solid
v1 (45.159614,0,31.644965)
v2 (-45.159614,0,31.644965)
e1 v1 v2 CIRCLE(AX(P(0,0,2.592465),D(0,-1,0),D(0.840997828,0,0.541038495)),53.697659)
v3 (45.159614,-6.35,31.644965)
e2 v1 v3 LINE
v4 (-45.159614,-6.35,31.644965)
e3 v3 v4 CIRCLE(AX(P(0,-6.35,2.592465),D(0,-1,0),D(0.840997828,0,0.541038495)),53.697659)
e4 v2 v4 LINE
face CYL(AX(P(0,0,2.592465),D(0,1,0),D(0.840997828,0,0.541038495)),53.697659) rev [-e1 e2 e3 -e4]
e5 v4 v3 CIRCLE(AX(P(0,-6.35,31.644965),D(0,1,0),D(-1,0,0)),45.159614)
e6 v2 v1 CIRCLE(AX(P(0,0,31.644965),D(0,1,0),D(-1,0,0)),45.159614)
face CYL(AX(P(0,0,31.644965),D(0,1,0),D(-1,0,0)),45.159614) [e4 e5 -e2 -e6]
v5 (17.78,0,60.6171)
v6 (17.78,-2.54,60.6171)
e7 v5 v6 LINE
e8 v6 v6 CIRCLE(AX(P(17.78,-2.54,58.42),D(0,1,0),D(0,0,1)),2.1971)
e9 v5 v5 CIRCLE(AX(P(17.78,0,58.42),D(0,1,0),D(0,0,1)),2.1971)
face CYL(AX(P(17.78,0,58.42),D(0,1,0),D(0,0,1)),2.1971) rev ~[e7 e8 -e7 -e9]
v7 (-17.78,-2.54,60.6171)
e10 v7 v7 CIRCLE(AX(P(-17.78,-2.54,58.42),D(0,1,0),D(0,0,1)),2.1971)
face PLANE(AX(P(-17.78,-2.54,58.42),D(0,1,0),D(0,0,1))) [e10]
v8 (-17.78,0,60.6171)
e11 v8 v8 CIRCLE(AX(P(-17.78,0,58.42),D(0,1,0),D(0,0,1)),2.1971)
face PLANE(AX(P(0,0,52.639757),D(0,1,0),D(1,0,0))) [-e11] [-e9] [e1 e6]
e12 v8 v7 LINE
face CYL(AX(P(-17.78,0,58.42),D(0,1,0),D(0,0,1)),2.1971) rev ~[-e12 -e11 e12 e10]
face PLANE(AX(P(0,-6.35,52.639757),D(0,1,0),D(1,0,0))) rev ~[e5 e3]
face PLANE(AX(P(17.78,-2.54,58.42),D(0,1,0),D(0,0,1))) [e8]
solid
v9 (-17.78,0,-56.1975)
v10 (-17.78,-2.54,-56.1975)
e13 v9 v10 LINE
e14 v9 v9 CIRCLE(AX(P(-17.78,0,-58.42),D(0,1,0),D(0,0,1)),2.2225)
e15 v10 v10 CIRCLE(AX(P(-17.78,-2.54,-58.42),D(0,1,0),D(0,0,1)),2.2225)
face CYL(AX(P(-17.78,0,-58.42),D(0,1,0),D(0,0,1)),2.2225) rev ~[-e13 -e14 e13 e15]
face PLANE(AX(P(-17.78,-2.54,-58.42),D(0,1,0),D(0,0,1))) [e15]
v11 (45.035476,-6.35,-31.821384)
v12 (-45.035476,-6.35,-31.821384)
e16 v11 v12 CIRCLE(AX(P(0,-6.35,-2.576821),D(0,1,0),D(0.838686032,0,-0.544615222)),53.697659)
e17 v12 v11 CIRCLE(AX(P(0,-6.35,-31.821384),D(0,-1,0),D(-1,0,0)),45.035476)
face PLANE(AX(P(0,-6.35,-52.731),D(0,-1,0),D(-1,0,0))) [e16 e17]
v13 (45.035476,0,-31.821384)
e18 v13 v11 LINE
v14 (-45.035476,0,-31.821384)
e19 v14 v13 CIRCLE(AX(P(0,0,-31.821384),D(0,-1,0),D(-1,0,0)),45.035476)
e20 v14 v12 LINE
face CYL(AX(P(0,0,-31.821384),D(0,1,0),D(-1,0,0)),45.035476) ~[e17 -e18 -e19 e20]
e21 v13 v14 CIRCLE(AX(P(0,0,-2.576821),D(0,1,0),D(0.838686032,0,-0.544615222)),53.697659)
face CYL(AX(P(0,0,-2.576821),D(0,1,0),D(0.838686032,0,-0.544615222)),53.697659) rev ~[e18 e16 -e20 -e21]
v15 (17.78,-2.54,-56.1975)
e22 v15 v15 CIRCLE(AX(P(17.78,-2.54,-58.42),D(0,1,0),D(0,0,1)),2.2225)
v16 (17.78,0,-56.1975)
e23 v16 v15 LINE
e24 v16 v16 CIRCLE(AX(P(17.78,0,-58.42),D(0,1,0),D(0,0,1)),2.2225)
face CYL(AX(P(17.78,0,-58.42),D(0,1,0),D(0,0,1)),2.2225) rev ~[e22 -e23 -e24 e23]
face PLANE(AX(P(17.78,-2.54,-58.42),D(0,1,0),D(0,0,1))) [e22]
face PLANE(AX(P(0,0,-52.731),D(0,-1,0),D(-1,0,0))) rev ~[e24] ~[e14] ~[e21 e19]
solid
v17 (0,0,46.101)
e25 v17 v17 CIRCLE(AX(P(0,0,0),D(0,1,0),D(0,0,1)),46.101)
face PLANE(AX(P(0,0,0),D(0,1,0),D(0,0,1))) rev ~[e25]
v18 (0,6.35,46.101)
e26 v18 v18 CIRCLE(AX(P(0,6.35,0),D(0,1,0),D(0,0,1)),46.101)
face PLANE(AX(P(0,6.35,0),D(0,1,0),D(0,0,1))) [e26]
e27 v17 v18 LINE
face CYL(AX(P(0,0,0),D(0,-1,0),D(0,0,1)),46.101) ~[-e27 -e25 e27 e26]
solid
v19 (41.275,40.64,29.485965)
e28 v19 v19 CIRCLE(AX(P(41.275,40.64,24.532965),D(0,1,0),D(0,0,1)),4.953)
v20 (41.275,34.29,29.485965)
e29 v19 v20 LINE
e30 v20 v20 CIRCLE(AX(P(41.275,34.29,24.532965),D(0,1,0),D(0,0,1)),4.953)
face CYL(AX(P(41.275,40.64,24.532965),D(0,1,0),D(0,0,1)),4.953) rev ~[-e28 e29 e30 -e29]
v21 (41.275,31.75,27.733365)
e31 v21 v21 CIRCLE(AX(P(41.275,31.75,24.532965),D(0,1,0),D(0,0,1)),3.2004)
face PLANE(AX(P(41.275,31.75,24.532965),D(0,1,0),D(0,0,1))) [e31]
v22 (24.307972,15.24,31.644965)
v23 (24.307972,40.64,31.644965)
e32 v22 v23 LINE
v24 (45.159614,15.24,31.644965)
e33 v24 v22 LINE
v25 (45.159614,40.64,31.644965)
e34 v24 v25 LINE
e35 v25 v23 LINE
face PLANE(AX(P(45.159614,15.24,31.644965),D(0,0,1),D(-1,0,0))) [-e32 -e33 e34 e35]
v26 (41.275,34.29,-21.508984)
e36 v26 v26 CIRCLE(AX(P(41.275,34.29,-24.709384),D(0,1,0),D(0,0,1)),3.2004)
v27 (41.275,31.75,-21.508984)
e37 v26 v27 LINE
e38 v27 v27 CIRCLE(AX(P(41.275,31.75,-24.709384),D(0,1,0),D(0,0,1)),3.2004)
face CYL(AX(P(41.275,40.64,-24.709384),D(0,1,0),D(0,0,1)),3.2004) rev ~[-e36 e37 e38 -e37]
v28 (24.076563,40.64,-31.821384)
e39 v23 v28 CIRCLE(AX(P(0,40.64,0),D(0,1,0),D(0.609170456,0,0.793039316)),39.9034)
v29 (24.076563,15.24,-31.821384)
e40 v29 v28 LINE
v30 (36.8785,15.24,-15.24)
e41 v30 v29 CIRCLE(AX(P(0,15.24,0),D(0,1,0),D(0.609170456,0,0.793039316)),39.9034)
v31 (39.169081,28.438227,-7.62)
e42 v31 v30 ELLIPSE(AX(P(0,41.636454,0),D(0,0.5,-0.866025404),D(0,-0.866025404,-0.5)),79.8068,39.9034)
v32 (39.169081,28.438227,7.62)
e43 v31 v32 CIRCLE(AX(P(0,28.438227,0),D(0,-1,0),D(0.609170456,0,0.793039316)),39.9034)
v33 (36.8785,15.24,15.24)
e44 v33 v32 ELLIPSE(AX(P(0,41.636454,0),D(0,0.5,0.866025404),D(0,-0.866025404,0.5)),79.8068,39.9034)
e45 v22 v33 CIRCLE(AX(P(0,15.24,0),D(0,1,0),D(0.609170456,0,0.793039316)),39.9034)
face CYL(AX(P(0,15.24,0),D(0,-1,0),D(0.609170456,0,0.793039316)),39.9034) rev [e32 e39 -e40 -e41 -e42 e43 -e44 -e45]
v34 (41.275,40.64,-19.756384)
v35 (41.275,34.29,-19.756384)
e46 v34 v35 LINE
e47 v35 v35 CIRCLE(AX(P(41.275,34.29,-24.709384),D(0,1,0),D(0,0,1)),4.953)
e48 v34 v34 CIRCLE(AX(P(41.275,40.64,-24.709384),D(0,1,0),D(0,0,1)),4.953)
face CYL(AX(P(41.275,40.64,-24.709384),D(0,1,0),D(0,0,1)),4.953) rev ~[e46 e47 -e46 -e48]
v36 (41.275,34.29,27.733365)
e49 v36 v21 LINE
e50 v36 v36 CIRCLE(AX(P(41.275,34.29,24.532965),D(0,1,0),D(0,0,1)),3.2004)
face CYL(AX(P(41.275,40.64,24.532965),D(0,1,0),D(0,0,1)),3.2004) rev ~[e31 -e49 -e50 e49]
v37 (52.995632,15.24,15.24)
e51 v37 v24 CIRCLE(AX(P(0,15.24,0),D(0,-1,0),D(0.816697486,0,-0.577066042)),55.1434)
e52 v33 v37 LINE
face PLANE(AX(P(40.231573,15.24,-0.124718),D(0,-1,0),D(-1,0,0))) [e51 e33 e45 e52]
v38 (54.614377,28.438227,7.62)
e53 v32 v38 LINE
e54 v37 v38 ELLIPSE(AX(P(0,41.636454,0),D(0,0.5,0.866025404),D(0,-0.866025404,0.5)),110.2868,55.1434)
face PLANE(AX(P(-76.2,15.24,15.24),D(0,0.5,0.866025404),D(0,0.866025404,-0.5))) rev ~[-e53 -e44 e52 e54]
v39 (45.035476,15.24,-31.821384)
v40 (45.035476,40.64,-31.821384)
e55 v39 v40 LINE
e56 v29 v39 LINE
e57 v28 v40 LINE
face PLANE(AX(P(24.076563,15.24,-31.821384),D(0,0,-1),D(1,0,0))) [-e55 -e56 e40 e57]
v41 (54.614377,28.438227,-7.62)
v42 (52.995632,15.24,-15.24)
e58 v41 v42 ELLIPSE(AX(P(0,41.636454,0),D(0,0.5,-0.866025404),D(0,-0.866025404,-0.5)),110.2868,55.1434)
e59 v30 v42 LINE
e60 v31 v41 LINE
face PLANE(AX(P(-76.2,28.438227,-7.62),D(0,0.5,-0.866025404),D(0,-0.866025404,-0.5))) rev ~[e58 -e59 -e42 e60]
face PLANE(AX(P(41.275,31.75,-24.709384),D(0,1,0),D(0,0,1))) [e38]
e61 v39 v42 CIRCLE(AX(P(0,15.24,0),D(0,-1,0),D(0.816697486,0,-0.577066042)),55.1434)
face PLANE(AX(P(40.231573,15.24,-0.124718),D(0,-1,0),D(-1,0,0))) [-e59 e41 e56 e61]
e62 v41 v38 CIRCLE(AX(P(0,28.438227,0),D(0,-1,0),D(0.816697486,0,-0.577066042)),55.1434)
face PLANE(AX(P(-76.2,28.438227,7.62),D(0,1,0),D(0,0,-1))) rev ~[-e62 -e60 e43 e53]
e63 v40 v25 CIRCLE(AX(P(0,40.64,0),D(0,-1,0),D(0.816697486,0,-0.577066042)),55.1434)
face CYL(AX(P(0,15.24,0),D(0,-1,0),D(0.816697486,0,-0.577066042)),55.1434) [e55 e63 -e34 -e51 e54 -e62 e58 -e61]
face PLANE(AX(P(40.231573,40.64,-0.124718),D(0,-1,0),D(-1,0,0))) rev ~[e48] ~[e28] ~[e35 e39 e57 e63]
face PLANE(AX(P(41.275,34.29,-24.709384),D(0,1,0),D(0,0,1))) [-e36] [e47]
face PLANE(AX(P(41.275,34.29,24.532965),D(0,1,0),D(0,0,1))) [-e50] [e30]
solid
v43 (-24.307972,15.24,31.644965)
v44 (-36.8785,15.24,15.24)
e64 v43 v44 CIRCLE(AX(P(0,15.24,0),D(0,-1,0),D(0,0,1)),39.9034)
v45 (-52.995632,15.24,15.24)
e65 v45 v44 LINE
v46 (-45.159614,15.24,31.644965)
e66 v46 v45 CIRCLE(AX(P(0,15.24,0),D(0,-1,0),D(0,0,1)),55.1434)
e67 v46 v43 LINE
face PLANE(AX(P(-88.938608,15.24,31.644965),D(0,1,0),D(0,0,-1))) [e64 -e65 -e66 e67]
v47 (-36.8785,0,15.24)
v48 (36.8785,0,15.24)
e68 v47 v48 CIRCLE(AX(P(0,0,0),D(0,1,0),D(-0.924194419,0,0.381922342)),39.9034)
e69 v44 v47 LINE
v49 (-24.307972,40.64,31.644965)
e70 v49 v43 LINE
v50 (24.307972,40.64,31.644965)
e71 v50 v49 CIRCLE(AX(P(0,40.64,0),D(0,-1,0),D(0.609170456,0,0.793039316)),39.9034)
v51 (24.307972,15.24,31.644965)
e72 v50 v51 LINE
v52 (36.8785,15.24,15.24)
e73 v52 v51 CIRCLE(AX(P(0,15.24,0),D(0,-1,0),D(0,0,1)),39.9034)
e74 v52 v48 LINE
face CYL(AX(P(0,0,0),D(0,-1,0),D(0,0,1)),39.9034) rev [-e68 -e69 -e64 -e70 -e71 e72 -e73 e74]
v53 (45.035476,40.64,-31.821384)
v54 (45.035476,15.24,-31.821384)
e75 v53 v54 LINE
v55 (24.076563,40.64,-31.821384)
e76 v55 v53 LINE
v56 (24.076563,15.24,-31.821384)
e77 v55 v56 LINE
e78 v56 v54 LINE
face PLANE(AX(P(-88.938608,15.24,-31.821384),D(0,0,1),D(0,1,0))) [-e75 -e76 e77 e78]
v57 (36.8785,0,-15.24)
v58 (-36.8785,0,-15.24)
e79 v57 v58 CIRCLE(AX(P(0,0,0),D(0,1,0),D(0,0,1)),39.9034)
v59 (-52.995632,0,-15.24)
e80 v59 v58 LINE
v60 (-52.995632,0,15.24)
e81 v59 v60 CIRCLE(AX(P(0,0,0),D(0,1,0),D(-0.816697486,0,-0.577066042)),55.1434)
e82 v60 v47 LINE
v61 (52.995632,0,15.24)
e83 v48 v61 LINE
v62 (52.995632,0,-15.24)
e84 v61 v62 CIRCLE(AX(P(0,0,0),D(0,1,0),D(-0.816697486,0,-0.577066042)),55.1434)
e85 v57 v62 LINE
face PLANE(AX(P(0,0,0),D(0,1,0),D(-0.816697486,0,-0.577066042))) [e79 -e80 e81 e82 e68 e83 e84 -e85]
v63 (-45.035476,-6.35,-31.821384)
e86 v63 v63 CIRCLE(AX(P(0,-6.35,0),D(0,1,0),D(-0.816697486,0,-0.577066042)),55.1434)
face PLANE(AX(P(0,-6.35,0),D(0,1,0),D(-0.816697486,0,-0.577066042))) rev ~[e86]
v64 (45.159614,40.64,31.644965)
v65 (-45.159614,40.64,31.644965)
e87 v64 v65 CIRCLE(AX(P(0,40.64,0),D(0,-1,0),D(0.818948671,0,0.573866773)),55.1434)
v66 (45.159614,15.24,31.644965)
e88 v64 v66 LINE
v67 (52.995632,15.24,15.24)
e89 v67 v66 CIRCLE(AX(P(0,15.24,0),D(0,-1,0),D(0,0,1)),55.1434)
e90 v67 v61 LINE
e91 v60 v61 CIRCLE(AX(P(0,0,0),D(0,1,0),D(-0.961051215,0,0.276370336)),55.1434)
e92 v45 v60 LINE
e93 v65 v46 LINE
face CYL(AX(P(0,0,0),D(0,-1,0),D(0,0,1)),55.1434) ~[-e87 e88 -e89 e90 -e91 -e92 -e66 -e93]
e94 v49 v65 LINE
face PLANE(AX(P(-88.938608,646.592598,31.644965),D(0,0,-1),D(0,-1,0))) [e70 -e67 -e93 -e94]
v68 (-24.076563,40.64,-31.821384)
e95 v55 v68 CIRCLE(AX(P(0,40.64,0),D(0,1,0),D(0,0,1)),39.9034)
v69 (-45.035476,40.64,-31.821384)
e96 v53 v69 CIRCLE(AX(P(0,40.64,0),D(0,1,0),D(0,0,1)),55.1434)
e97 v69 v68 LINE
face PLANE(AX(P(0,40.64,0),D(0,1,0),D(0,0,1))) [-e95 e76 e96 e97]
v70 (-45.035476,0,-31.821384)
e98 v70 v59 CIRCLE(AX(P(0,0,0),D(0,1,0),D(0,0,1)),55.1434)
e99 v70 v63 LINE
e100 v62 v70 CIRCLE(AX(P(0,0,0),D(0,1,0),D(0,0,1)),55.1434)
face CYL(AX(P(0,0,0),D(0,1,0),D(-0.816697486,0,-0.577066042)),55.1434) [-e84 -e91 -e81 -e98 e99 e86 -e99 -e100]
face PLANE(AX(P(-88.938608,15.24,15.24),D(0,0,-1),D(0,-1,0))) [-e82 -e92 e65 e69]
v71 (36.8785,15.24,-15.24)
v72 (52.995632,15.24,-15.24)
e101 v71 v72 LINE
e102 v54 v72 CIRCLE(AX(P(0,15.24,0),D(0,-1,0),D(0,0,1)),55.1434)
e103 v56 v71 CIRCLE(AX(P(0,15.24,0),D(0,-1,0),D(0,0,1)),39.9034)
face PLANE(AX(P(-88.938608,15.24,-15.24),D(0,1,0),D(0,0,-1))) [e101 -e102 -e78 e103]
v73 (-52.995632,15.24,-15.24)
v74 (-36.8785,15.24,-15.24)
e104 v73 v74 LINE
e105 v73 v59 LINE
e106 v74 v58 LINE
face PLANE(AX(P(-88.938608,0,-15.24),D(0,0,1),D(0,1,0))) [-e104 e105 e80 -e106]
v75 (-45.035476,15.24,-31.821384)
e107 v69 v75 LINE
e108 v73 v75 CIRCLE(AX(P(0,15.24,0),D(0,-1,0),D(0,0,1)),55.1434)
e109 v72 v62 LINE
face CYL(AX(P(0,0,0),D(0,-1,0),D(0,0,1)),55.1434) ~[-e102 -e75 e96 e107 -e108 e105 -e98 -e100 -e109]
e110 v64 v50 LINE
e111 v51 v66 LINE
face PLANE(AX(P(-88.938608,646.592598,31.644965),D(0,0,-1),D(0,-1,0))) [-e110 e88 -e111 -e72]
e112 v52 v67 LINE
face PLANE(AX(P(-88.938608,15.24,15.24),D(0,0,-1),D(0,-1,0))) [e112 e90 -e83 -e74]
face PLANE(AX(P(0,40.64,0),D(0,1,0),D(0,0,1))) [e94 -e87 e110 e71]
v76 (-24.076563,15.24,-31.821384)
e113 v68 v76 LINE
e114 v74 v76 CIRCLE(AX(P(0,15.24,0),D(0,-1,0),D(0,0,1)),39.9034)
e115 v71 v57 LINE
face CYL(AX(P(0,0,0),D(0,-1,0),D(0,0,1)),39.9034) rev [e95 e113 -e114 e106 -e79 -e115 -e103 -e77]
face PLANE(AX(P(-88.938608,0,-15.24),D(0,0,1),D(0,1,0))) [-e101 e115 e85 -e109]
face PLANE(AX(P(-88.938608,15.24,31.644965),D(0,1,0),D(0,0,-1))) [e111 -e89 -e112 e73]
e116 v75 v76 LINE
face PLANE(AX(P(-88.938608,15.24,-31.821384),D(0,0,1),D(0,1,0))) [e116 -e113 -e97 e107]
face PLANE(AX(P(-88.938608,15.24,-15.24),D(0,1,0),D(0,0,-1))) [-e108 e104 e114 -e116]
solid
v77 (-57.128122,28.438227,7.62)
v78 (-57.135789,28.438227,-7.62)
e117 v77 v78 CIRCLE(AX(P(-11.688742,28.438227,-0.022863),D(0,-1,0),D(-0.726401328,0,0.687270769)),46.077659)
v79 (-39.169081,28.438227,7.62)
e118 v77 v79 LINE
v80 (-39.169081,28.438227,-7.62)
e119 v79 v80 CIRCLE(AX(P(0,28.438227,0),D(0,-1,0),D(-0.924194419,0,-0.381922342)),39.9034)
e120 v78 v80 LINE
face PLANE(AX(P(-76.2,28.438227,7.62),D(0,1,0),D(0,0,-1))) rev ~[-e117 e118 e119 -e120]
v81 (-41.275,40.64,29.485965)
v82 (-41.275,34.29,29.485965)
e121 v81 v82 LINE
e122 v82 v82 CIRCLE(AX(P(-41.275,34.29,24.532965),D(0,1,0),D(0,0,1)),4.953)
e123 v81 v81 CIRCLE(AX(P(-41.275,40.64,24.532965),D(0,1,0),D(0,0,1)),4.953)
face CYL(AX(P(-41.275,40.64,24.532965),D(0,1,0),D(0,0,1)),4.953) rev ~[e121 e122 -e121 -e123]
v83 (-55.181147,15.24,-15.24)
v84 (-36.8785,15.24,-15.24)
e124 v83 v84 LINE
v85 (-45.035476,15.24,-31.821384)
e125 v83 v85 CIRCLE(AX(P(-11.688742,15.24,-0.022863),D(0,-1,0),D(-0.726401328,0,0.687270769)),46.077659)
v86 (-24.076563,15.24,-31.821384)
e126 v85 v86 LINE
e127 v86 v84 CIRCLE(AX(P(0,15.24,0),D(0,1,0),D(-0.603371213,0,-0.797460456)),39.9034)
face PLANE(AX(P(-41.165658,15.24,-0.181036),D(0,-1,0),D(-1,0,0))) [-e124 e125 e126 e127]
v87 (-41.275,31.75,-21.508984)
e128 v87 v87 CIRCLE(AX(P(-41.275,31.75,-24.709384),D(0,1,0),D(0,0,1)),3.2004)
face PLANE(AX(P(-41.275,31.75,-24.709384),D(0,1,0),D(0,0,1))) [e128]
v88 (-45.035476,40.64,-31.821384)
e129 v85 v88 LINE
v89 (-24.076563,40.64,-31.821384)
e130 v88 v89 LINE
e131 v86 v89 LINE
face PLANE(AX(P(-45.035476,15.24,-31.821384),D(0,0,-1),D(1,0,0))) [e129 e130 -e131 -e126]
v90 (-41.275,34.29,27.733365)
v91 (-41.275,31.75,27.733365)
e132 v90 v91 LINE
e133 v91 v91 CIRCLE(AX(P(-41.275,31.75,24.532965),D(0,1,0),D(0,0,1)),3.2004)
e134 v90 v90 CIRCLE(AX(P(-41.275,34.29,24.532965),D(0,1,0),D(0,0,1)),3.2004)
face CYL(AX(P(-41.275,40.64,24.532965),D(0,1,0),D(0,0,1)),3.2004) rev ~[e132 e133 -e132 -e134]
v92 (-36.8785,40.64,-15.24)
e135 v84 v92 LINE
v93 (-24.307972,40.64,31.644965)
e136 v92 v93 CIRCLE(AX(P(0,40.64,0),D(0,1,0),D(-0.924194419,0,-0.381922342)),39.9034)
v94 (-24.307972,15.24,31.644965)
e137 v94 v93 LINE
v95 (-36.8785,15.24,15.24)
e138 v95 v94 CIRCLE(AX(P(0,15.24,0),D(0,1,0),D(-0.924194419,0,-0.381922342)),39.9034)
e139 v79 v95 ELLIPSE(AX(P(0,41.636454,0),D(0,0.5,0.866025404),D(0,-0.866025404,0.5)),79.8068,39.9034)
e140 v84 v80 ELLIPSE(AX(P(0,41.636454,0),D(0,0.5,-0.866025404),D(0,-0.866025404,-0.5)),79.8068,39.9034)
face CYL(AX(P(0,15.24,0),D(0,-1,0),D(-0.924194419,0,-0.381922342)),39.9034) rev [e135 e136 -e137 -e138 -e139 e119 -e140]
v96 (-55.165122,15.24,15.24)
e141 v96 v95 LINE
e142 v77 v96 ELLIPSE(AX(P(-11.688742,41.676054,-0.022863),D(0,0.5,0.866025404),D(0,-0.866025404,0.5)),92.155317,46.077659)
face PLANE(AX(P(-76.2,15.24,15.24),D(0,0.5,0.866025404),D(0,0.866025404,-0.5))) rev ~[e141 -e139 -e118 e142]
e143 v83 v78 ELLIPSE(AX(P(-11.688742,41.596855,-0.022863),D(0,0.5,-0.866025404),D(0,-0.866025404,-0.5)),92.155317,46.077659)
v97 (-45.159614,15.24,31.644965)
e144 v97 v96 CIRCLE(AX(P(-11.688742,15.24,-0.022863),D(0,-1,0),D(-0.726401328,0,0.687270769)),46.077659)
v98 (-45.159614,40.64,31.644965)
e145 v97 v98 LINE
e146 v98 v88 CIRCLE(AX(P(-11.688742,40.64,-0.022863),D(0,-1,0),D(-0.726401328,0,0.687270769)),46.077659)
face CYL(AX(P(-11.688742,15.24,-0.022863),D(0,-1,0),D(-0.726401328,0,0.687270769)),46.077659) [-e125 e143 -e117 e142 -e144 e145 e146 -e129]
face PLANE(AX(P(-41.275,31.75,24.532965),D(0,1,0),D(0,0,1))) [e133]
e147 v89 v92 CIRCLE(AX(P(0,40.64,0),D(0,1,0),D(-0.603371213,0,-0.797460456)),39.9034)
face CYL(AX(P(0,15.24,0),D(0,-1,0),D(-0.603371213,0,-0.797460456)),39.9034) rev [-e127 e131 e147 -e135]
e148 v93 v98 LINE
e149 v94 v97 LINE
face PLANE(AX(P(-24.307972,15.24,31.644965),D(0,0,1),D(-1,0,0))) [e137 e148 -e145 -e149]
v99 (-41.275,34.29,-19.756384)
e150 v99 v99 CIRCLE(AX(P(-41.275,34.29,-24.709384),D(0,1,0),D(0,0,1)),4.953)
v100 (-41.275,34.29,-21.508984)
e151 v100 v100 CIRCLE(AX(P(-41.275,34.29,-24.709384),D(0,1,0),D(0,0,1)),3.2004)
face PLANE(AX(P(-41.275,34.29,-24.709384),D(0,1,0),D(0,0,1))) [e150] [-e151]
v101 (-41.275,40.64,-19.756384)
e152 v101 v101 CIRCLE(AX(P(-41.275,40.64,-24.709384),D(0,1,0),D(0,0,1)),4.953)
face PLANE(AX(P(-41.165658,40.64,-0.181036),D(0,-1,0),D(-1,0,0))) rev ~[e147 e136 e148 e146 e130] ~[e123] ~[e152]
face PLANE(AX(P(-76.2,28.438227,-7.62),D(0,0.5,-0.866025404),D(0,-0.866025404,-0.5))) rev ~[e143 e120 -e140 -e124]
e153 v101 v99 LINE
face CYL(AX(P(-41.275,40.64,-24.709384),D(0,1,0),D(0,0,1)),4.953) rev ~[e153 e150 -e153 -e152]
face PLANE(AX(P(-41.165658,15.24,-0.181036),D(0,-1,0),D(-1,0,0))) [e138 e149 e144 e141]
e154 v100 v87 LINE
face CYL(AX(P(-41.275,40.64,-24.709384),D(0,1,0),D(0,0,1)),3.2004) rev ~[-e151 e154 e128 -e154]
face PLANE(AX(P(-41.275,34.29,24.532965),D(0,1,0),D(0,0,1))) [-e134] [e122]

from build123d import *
from build123d.topology import SkipClean

# Parameters (mm, degrees)
SKETCH1_R               = 55.1434
SKETCH1_R_2             = 39.9034
BOSS_EXTRUDE1_DEPTH     = 40.64
CUT_EXTRUDE2_DEPTH      = 88.938607717
CUT_EXTRUDE2_DEPTH_BACK = 88.938607717
SKETCH7_R               = 46.101
BOSS_EXTRUDE2_DEPTH     = 6.35
BOSS_EXTRUDE4_DEPTH     = 25.4
BOSS_EXTRUDE6_DEPTH     = 25.4
CUT_EXTRUDE3_DEPTH      = 76.2
CUT_EXTRUDE3_DEPTH_BACK = 76.2
BOSS_EXTRUDE9_DEPTH     = 6.35
BOSS_EXTRUDE9_2_DEPTH   = 6.35
SKETCH1_4_R             = 55.1434
BOSS_EXTRUDE10_DEPTH    = 6.35
SKETCH21_R              = 3.2004
CUT_EXTRUDE4_DEPTH      = 8.89
SKETCH22_R              = 2.1971
SKETCH22_R_2            = 2.2225
CUT_EXTRUDE5_DEPTH      = 2.54
SKETCH27_R              = 4.953
CUT_EXTRUDE6_DEPTH      = 6.35


with BuildPart() as part:
    # Sketch1 → Boss-Extrude1 (new body)
    with BuildSketch(Plane(origin=(0, 0, 0), x_dir=(1, 0, 0), z_dir=(0, 1, 0))):
        with Locations(Location((0, 0, 0), (0, 0, 270))):
            Circle(SKETCH1_R)
        with Locations(Location((0, 0, 0), (0, 0, 270))):
            Circle(SKETCH1_R_2, mode=Mode.SUBTRACT)
    extrude(amount=BOSS_EXTRUDE1_DEPTH)

    # Sketch6 → Cut-Extrude2 (cut, two sides: drawn at the far end of the back side and taken through both)
    with BuildSketch(Plane(origin=(0, 0, 0), x_dir=(0, 0, -1), z_dir=(1, 0, 0)).offset(-CUT_EXTRUDE2_DEPTH_BACK)):
        Polygon((-31.644965026, 242.624199171), (-31.644965026, 40.64), (-31.644965026, 15.24), (-15.24, 15.24), (-15.24, 0), (15.24, 0), (15.24, 15.24), (31.821383578, 15.24), (31.821383578, 40.64), (31.821383578, 242.624199171), (31.821383578, 646.592597512), (-31.644965026, 646.592597512), align=None)
    extrude(amount=CUT_EXTRUDE2_DEPTH + CUT_EXTRUDE2_DEPTH_BACK, mode=Mode.SUBTRACT)


with BuildPart() as cut_extrude2_piece_1:
    # of the separate pieces the step leaves, piece 1, a body of its own (cut_extrude2_pieces)
    add(part.part.solids().sort_by_distance((-52.995631552, 0, 15.24))[0])



with BuildPart() as cut_extrude2_piece_2:
    # of the separate pieces the step leaves, piece 2, a body of its own (cut_extrude2_pieces)
    add(part.part.solids().sort_by_distance((52.995631552, 0, -15.24))[0])


with BuildPart() as body_3:
    # Sketch7 → Boss-Extrude2 (new body)
    with BuildSketch(Plane(origin=(0, 0, 0), x_dir=(1, 0, 0), z_dir=(0, 1, 0))):
        with Locations(Location((0, 0, 0), (0, 0, 270))):
            Circle(SKETCH7_R)
    extrude(amount=BOSS_EXTRUDE2_DEPTH)


with BuildPart() as body_4:
    # Sketch8 → Boss-Extrude4 (new body)
    with BuildSketch(Plane(origin=(0, 15.24, 0), x_dir=(1, 0, 0), z_dir=(0, 1, 0))):
        with BuildLine():
            Line((45.159614171, -31.644965026), (24.307972356, -31.644965026))
            ThreePointArc((24.307972356, -31.644965026), (39.903134753, 0.145493869), (24.076562851, 31.821383578))
            Line((24.076562851, 31.821383578), (45.035476135, 31.821383578))
            ThreePointArc((45.035476135, 31.821383578), (55.143294516, 0.107858423), (45.159614171, -31.644965026))
        make_face()
    extrude(amount=BOSS_EXTRUDE4_DEPTH)


with BuildPart() as body_5:
    # Sketch11 → Boss-Extrude6 (new body)
    with BuildSketch(Plane(origin=(0, 15.24, 0), x_dir=(1, 0, 0), z_dir=(0, 1, 0))):
        with BuildLine():
            Line((-45.035476135, 31.821383578), (-24.076562851, 31.821383578))
            ThreePointArc((-24.076562851, 31.821383578), (-31.585051519, 24.385771509), (-36.878499584, 15.24))
            ThreePointArc((-36.878499584, 15.24), (-38.542133743, -10.333695277), (-24.307972356, -31.644965026))
            Line((-24.307972356, -31.644965026), (-45.159614171, -31.644965026))
            ThreePointArc((-45.159614171, -31.644965026), (-57.766312197, 0.112988957), (-45.035476135, 31.821383578))
        make_face()
    extrude(amount=BOSS_EXTRUDE6_DEPTH)


with BuildPart() as cut_extrude3_tool:
    # Sketch12 → Cut-Extrude3 (new, two sides: drawn at the far end of the back side and taken through both)
    with BuildSketch(Plane(origin=(0, 0, 0), x_dir=(0, 0, -1), z_dir=(1, 0, 0)).offset(-CUT_EXTRUDE3_DEPTH_BACK)):
        Polygon((-15.24, 15.24), (-7.62, 28.438227154), (7.62, 28.438227154), (15.24, 15.24), align=None)
    extrude(amount=CUT_EXTRUDE3_DEPTH + CUT_EXTRUDE3_DEPTH_BACK)


with BuildPart() as body_4_1:
    add(body_4.part)

    # Cut-Extrude3: cut by cut_extrude3_tool
    add(cut_extrude3_tool.part, mode=Mode.SUBTRACT)


with BuildPart() as body_5_1:
    add(body_5.part)

    # Cut-Extrude3: cut by cut_extrude3_tool
    add(cut_extrude3_tool.part, mode=Mode.SUBTRACT)


with BuildPart() as body_6:
    # Sketch16 → Boss-Extrude9 (new body)
    with BuildSketch(Plane(origin=(0, 0, 0), x_dir=(1, 0, 0), z_dir=(0, 1, 0))):
        with BuildLine():
            ThreePointArc((-45.035476135, 31.821383578), (0, 76.856859713), (45.035476135, 31.821383578))
            ThreePointArc((45.035476135, 31.821383578), (0, 56.274479887), (-45.035476135, 31.821383578))
        make_face()
    extrude(amount=-BOSS_EXTRUDE9_DEPTH)


with BuildPart() as body_7:
    # Sketch16 → Boss-Extrude9 2 (new body)
    with BuildSketch(Plane(origin=(0, 0, 0), x_dir=(1, 0, 0), z_dir=(0, 1, 0))):
        with BuildLine():
            ThreePointArc((-45.159614171, -31.644965026), (0, -76.804579197), (45.159614171, -31.644965026))
            ThreePointArc((45.159614171, -31.644965026), (0, -56.290123178), (-45.159614171, -31.644965026))
        make_face()
    extrude(amount=-BOSS_EXTRUDE9_2_DEPTH)


with BuildPart() as cut_extrude2_piece_1_1:
    with SkipClean():  # the faces are left unmerged after this step: merging them gives an invalid solid
        add(cut_extrude2_piece_1.part)

        add(cut_extrude2_piece_2.part)  # Boss-Extrude10 merges Cut-Extrude2 piece 2
        # Sketch1<4> → Boss-Extrude10 (add)
        with BuildSketch(Plane(origin=(0, 0, 0), x_dir=(1, 0, 0), z_dir=(0, 1, 0))):
            with Locations(Location((0, 0, 0), (0, 0, 144.755552859))):
                Circle(SKETCH1_4_R)
        extrude(amount=-BOSS_EXTRUDE10_DEPTH)


with BuildPart() as cut_extrude4_tool:
    # Sketch21 → Cut-Extrude4 (new body)
    with BuildSketch(Plane(origin=(0, 40.64, 0), x_dir=(1, 0, 0), z_dir=(0, 1, 0))):
        with Locations(Location((-41.275, 24.709383578, 0), (0, 0, 270))):
            Circle(SKETCH21_R)
        with Locations(Location((-41.275, -24.532965026, 0), (0, 0, 270))):
            Circle(SKETCH21_R)
        with Locations(Location((41.275, -24.532965026, 0), (0, 0, 270))):
            Circle(SKETCH21_R)
        with Locations(Location((41.275, 24.709383578, 0), (0, 0, 270))):
            Circle(SKETCH21_R)
    extrude(amount=-CUT_EXTRUDE4_DEPTH)


with BuildPart() as body_4_2:
    add(body_4_1.part)

    # Cut-Extrude4: cut by cut_extrude4_tool
    add(cut_extrude4_tool.part, mode=Mode.SUBTRACT)


with BuildPart() as body_5_2:
    add(body_5_1.part)

    # Cut-Extrude4: cut by cut_extrude4_tool
    add(cut_extrude4_tool.part, mode=Mode.SUBTRACT)


with BuildPart() as cut_extrude5_tool:
    # Sketch22 → Cut-Extrude5 (new body)
    with BuildSketch(Plane(origin=(0, 0, 0), x_dir=(1, 0, 0), z_dir=(0, 1, 0))):
        with Locations(Location((17.78, -58.42, 0), (0, 0, 270))):
            Circle(SKETCH22_R)
        with Locations(Location((-17.78, -58.42, 0), (0, 0, 270))):
            Circle(SKETCH22_R)
        with Locations(Location((-17.78, 58.42, 0), (0, 0, 270))):
            Circle(SKETCH22_R_2)
        with Locations(Location((17.78, 58.42, 0), (0, 0, 270))):
            Circle(SKETCH22_R_2)
    extrude(amount=-CUT_EXTRUDE5_DEPTH)


with BuildPart() as body_6_1:
    add(body_6.part)

    # Cut-Extrude5: cut by cut_extrude5_tool
    add(cut_extrude5_tool.part, mode=Mode.SUBTRACT)


with BuildPart() as body_7_1:
    add(body_7.part)

    # Cut-Extrude5: cut by cut_extrude5_tool
    add(cut_extrude5_tool.part, mode=Mode.SUBTRACT)


with BuildPart() as cut_extrude6_tool:
    # Sketch27 → Cut-Extrude6 (new body)
    with BuildSketch(Plane(origin=(0, 40.64, 0), x_dir=(1, 0, 0), z_dir=(0, 1, 0))):
        with Locations(Location((-41.275, 24.709383578, 0), (0, 0, 270))):
            Circle(SKETCH27_R)
        with Locations(Location((-41.275, -24.532965026, 0), (0, 0, 270))):
            Circle(SKETCH27_R)
        with Locations(Location((41.275, -24.532965026, 0), (0, 0, 270))):
            Circle(SKETCH27_R)
        with Locations(Location((41.275, 24.709383578, 0), (0, 0, 270))):
            Circle(SKETCH27_R)
    extrude(amount=-CUT_EXTRUDE6_DEPTH)


with BuildPart() as body_4_3:
    add(body_4_2.part)

    # Cut-Extrude6: cut by cut_extrude6_tool
    add(cut_extrude6_tool.part, mode=Mode.SUBTRACT)


with BuildPart() as body_5_3:
    add(body_5_2.part)

    # Cut-Extrude6: cut by cut_extrude6_tool
    add(cut_extrude6_tool.part, mode=Mode.SUBTRACT)


solid = Compound([body_3.part, cut_extrude2_piece_1_1.part, body_6_1.part, body_7_1.part, body_4_3.part, body_5_3.part])
